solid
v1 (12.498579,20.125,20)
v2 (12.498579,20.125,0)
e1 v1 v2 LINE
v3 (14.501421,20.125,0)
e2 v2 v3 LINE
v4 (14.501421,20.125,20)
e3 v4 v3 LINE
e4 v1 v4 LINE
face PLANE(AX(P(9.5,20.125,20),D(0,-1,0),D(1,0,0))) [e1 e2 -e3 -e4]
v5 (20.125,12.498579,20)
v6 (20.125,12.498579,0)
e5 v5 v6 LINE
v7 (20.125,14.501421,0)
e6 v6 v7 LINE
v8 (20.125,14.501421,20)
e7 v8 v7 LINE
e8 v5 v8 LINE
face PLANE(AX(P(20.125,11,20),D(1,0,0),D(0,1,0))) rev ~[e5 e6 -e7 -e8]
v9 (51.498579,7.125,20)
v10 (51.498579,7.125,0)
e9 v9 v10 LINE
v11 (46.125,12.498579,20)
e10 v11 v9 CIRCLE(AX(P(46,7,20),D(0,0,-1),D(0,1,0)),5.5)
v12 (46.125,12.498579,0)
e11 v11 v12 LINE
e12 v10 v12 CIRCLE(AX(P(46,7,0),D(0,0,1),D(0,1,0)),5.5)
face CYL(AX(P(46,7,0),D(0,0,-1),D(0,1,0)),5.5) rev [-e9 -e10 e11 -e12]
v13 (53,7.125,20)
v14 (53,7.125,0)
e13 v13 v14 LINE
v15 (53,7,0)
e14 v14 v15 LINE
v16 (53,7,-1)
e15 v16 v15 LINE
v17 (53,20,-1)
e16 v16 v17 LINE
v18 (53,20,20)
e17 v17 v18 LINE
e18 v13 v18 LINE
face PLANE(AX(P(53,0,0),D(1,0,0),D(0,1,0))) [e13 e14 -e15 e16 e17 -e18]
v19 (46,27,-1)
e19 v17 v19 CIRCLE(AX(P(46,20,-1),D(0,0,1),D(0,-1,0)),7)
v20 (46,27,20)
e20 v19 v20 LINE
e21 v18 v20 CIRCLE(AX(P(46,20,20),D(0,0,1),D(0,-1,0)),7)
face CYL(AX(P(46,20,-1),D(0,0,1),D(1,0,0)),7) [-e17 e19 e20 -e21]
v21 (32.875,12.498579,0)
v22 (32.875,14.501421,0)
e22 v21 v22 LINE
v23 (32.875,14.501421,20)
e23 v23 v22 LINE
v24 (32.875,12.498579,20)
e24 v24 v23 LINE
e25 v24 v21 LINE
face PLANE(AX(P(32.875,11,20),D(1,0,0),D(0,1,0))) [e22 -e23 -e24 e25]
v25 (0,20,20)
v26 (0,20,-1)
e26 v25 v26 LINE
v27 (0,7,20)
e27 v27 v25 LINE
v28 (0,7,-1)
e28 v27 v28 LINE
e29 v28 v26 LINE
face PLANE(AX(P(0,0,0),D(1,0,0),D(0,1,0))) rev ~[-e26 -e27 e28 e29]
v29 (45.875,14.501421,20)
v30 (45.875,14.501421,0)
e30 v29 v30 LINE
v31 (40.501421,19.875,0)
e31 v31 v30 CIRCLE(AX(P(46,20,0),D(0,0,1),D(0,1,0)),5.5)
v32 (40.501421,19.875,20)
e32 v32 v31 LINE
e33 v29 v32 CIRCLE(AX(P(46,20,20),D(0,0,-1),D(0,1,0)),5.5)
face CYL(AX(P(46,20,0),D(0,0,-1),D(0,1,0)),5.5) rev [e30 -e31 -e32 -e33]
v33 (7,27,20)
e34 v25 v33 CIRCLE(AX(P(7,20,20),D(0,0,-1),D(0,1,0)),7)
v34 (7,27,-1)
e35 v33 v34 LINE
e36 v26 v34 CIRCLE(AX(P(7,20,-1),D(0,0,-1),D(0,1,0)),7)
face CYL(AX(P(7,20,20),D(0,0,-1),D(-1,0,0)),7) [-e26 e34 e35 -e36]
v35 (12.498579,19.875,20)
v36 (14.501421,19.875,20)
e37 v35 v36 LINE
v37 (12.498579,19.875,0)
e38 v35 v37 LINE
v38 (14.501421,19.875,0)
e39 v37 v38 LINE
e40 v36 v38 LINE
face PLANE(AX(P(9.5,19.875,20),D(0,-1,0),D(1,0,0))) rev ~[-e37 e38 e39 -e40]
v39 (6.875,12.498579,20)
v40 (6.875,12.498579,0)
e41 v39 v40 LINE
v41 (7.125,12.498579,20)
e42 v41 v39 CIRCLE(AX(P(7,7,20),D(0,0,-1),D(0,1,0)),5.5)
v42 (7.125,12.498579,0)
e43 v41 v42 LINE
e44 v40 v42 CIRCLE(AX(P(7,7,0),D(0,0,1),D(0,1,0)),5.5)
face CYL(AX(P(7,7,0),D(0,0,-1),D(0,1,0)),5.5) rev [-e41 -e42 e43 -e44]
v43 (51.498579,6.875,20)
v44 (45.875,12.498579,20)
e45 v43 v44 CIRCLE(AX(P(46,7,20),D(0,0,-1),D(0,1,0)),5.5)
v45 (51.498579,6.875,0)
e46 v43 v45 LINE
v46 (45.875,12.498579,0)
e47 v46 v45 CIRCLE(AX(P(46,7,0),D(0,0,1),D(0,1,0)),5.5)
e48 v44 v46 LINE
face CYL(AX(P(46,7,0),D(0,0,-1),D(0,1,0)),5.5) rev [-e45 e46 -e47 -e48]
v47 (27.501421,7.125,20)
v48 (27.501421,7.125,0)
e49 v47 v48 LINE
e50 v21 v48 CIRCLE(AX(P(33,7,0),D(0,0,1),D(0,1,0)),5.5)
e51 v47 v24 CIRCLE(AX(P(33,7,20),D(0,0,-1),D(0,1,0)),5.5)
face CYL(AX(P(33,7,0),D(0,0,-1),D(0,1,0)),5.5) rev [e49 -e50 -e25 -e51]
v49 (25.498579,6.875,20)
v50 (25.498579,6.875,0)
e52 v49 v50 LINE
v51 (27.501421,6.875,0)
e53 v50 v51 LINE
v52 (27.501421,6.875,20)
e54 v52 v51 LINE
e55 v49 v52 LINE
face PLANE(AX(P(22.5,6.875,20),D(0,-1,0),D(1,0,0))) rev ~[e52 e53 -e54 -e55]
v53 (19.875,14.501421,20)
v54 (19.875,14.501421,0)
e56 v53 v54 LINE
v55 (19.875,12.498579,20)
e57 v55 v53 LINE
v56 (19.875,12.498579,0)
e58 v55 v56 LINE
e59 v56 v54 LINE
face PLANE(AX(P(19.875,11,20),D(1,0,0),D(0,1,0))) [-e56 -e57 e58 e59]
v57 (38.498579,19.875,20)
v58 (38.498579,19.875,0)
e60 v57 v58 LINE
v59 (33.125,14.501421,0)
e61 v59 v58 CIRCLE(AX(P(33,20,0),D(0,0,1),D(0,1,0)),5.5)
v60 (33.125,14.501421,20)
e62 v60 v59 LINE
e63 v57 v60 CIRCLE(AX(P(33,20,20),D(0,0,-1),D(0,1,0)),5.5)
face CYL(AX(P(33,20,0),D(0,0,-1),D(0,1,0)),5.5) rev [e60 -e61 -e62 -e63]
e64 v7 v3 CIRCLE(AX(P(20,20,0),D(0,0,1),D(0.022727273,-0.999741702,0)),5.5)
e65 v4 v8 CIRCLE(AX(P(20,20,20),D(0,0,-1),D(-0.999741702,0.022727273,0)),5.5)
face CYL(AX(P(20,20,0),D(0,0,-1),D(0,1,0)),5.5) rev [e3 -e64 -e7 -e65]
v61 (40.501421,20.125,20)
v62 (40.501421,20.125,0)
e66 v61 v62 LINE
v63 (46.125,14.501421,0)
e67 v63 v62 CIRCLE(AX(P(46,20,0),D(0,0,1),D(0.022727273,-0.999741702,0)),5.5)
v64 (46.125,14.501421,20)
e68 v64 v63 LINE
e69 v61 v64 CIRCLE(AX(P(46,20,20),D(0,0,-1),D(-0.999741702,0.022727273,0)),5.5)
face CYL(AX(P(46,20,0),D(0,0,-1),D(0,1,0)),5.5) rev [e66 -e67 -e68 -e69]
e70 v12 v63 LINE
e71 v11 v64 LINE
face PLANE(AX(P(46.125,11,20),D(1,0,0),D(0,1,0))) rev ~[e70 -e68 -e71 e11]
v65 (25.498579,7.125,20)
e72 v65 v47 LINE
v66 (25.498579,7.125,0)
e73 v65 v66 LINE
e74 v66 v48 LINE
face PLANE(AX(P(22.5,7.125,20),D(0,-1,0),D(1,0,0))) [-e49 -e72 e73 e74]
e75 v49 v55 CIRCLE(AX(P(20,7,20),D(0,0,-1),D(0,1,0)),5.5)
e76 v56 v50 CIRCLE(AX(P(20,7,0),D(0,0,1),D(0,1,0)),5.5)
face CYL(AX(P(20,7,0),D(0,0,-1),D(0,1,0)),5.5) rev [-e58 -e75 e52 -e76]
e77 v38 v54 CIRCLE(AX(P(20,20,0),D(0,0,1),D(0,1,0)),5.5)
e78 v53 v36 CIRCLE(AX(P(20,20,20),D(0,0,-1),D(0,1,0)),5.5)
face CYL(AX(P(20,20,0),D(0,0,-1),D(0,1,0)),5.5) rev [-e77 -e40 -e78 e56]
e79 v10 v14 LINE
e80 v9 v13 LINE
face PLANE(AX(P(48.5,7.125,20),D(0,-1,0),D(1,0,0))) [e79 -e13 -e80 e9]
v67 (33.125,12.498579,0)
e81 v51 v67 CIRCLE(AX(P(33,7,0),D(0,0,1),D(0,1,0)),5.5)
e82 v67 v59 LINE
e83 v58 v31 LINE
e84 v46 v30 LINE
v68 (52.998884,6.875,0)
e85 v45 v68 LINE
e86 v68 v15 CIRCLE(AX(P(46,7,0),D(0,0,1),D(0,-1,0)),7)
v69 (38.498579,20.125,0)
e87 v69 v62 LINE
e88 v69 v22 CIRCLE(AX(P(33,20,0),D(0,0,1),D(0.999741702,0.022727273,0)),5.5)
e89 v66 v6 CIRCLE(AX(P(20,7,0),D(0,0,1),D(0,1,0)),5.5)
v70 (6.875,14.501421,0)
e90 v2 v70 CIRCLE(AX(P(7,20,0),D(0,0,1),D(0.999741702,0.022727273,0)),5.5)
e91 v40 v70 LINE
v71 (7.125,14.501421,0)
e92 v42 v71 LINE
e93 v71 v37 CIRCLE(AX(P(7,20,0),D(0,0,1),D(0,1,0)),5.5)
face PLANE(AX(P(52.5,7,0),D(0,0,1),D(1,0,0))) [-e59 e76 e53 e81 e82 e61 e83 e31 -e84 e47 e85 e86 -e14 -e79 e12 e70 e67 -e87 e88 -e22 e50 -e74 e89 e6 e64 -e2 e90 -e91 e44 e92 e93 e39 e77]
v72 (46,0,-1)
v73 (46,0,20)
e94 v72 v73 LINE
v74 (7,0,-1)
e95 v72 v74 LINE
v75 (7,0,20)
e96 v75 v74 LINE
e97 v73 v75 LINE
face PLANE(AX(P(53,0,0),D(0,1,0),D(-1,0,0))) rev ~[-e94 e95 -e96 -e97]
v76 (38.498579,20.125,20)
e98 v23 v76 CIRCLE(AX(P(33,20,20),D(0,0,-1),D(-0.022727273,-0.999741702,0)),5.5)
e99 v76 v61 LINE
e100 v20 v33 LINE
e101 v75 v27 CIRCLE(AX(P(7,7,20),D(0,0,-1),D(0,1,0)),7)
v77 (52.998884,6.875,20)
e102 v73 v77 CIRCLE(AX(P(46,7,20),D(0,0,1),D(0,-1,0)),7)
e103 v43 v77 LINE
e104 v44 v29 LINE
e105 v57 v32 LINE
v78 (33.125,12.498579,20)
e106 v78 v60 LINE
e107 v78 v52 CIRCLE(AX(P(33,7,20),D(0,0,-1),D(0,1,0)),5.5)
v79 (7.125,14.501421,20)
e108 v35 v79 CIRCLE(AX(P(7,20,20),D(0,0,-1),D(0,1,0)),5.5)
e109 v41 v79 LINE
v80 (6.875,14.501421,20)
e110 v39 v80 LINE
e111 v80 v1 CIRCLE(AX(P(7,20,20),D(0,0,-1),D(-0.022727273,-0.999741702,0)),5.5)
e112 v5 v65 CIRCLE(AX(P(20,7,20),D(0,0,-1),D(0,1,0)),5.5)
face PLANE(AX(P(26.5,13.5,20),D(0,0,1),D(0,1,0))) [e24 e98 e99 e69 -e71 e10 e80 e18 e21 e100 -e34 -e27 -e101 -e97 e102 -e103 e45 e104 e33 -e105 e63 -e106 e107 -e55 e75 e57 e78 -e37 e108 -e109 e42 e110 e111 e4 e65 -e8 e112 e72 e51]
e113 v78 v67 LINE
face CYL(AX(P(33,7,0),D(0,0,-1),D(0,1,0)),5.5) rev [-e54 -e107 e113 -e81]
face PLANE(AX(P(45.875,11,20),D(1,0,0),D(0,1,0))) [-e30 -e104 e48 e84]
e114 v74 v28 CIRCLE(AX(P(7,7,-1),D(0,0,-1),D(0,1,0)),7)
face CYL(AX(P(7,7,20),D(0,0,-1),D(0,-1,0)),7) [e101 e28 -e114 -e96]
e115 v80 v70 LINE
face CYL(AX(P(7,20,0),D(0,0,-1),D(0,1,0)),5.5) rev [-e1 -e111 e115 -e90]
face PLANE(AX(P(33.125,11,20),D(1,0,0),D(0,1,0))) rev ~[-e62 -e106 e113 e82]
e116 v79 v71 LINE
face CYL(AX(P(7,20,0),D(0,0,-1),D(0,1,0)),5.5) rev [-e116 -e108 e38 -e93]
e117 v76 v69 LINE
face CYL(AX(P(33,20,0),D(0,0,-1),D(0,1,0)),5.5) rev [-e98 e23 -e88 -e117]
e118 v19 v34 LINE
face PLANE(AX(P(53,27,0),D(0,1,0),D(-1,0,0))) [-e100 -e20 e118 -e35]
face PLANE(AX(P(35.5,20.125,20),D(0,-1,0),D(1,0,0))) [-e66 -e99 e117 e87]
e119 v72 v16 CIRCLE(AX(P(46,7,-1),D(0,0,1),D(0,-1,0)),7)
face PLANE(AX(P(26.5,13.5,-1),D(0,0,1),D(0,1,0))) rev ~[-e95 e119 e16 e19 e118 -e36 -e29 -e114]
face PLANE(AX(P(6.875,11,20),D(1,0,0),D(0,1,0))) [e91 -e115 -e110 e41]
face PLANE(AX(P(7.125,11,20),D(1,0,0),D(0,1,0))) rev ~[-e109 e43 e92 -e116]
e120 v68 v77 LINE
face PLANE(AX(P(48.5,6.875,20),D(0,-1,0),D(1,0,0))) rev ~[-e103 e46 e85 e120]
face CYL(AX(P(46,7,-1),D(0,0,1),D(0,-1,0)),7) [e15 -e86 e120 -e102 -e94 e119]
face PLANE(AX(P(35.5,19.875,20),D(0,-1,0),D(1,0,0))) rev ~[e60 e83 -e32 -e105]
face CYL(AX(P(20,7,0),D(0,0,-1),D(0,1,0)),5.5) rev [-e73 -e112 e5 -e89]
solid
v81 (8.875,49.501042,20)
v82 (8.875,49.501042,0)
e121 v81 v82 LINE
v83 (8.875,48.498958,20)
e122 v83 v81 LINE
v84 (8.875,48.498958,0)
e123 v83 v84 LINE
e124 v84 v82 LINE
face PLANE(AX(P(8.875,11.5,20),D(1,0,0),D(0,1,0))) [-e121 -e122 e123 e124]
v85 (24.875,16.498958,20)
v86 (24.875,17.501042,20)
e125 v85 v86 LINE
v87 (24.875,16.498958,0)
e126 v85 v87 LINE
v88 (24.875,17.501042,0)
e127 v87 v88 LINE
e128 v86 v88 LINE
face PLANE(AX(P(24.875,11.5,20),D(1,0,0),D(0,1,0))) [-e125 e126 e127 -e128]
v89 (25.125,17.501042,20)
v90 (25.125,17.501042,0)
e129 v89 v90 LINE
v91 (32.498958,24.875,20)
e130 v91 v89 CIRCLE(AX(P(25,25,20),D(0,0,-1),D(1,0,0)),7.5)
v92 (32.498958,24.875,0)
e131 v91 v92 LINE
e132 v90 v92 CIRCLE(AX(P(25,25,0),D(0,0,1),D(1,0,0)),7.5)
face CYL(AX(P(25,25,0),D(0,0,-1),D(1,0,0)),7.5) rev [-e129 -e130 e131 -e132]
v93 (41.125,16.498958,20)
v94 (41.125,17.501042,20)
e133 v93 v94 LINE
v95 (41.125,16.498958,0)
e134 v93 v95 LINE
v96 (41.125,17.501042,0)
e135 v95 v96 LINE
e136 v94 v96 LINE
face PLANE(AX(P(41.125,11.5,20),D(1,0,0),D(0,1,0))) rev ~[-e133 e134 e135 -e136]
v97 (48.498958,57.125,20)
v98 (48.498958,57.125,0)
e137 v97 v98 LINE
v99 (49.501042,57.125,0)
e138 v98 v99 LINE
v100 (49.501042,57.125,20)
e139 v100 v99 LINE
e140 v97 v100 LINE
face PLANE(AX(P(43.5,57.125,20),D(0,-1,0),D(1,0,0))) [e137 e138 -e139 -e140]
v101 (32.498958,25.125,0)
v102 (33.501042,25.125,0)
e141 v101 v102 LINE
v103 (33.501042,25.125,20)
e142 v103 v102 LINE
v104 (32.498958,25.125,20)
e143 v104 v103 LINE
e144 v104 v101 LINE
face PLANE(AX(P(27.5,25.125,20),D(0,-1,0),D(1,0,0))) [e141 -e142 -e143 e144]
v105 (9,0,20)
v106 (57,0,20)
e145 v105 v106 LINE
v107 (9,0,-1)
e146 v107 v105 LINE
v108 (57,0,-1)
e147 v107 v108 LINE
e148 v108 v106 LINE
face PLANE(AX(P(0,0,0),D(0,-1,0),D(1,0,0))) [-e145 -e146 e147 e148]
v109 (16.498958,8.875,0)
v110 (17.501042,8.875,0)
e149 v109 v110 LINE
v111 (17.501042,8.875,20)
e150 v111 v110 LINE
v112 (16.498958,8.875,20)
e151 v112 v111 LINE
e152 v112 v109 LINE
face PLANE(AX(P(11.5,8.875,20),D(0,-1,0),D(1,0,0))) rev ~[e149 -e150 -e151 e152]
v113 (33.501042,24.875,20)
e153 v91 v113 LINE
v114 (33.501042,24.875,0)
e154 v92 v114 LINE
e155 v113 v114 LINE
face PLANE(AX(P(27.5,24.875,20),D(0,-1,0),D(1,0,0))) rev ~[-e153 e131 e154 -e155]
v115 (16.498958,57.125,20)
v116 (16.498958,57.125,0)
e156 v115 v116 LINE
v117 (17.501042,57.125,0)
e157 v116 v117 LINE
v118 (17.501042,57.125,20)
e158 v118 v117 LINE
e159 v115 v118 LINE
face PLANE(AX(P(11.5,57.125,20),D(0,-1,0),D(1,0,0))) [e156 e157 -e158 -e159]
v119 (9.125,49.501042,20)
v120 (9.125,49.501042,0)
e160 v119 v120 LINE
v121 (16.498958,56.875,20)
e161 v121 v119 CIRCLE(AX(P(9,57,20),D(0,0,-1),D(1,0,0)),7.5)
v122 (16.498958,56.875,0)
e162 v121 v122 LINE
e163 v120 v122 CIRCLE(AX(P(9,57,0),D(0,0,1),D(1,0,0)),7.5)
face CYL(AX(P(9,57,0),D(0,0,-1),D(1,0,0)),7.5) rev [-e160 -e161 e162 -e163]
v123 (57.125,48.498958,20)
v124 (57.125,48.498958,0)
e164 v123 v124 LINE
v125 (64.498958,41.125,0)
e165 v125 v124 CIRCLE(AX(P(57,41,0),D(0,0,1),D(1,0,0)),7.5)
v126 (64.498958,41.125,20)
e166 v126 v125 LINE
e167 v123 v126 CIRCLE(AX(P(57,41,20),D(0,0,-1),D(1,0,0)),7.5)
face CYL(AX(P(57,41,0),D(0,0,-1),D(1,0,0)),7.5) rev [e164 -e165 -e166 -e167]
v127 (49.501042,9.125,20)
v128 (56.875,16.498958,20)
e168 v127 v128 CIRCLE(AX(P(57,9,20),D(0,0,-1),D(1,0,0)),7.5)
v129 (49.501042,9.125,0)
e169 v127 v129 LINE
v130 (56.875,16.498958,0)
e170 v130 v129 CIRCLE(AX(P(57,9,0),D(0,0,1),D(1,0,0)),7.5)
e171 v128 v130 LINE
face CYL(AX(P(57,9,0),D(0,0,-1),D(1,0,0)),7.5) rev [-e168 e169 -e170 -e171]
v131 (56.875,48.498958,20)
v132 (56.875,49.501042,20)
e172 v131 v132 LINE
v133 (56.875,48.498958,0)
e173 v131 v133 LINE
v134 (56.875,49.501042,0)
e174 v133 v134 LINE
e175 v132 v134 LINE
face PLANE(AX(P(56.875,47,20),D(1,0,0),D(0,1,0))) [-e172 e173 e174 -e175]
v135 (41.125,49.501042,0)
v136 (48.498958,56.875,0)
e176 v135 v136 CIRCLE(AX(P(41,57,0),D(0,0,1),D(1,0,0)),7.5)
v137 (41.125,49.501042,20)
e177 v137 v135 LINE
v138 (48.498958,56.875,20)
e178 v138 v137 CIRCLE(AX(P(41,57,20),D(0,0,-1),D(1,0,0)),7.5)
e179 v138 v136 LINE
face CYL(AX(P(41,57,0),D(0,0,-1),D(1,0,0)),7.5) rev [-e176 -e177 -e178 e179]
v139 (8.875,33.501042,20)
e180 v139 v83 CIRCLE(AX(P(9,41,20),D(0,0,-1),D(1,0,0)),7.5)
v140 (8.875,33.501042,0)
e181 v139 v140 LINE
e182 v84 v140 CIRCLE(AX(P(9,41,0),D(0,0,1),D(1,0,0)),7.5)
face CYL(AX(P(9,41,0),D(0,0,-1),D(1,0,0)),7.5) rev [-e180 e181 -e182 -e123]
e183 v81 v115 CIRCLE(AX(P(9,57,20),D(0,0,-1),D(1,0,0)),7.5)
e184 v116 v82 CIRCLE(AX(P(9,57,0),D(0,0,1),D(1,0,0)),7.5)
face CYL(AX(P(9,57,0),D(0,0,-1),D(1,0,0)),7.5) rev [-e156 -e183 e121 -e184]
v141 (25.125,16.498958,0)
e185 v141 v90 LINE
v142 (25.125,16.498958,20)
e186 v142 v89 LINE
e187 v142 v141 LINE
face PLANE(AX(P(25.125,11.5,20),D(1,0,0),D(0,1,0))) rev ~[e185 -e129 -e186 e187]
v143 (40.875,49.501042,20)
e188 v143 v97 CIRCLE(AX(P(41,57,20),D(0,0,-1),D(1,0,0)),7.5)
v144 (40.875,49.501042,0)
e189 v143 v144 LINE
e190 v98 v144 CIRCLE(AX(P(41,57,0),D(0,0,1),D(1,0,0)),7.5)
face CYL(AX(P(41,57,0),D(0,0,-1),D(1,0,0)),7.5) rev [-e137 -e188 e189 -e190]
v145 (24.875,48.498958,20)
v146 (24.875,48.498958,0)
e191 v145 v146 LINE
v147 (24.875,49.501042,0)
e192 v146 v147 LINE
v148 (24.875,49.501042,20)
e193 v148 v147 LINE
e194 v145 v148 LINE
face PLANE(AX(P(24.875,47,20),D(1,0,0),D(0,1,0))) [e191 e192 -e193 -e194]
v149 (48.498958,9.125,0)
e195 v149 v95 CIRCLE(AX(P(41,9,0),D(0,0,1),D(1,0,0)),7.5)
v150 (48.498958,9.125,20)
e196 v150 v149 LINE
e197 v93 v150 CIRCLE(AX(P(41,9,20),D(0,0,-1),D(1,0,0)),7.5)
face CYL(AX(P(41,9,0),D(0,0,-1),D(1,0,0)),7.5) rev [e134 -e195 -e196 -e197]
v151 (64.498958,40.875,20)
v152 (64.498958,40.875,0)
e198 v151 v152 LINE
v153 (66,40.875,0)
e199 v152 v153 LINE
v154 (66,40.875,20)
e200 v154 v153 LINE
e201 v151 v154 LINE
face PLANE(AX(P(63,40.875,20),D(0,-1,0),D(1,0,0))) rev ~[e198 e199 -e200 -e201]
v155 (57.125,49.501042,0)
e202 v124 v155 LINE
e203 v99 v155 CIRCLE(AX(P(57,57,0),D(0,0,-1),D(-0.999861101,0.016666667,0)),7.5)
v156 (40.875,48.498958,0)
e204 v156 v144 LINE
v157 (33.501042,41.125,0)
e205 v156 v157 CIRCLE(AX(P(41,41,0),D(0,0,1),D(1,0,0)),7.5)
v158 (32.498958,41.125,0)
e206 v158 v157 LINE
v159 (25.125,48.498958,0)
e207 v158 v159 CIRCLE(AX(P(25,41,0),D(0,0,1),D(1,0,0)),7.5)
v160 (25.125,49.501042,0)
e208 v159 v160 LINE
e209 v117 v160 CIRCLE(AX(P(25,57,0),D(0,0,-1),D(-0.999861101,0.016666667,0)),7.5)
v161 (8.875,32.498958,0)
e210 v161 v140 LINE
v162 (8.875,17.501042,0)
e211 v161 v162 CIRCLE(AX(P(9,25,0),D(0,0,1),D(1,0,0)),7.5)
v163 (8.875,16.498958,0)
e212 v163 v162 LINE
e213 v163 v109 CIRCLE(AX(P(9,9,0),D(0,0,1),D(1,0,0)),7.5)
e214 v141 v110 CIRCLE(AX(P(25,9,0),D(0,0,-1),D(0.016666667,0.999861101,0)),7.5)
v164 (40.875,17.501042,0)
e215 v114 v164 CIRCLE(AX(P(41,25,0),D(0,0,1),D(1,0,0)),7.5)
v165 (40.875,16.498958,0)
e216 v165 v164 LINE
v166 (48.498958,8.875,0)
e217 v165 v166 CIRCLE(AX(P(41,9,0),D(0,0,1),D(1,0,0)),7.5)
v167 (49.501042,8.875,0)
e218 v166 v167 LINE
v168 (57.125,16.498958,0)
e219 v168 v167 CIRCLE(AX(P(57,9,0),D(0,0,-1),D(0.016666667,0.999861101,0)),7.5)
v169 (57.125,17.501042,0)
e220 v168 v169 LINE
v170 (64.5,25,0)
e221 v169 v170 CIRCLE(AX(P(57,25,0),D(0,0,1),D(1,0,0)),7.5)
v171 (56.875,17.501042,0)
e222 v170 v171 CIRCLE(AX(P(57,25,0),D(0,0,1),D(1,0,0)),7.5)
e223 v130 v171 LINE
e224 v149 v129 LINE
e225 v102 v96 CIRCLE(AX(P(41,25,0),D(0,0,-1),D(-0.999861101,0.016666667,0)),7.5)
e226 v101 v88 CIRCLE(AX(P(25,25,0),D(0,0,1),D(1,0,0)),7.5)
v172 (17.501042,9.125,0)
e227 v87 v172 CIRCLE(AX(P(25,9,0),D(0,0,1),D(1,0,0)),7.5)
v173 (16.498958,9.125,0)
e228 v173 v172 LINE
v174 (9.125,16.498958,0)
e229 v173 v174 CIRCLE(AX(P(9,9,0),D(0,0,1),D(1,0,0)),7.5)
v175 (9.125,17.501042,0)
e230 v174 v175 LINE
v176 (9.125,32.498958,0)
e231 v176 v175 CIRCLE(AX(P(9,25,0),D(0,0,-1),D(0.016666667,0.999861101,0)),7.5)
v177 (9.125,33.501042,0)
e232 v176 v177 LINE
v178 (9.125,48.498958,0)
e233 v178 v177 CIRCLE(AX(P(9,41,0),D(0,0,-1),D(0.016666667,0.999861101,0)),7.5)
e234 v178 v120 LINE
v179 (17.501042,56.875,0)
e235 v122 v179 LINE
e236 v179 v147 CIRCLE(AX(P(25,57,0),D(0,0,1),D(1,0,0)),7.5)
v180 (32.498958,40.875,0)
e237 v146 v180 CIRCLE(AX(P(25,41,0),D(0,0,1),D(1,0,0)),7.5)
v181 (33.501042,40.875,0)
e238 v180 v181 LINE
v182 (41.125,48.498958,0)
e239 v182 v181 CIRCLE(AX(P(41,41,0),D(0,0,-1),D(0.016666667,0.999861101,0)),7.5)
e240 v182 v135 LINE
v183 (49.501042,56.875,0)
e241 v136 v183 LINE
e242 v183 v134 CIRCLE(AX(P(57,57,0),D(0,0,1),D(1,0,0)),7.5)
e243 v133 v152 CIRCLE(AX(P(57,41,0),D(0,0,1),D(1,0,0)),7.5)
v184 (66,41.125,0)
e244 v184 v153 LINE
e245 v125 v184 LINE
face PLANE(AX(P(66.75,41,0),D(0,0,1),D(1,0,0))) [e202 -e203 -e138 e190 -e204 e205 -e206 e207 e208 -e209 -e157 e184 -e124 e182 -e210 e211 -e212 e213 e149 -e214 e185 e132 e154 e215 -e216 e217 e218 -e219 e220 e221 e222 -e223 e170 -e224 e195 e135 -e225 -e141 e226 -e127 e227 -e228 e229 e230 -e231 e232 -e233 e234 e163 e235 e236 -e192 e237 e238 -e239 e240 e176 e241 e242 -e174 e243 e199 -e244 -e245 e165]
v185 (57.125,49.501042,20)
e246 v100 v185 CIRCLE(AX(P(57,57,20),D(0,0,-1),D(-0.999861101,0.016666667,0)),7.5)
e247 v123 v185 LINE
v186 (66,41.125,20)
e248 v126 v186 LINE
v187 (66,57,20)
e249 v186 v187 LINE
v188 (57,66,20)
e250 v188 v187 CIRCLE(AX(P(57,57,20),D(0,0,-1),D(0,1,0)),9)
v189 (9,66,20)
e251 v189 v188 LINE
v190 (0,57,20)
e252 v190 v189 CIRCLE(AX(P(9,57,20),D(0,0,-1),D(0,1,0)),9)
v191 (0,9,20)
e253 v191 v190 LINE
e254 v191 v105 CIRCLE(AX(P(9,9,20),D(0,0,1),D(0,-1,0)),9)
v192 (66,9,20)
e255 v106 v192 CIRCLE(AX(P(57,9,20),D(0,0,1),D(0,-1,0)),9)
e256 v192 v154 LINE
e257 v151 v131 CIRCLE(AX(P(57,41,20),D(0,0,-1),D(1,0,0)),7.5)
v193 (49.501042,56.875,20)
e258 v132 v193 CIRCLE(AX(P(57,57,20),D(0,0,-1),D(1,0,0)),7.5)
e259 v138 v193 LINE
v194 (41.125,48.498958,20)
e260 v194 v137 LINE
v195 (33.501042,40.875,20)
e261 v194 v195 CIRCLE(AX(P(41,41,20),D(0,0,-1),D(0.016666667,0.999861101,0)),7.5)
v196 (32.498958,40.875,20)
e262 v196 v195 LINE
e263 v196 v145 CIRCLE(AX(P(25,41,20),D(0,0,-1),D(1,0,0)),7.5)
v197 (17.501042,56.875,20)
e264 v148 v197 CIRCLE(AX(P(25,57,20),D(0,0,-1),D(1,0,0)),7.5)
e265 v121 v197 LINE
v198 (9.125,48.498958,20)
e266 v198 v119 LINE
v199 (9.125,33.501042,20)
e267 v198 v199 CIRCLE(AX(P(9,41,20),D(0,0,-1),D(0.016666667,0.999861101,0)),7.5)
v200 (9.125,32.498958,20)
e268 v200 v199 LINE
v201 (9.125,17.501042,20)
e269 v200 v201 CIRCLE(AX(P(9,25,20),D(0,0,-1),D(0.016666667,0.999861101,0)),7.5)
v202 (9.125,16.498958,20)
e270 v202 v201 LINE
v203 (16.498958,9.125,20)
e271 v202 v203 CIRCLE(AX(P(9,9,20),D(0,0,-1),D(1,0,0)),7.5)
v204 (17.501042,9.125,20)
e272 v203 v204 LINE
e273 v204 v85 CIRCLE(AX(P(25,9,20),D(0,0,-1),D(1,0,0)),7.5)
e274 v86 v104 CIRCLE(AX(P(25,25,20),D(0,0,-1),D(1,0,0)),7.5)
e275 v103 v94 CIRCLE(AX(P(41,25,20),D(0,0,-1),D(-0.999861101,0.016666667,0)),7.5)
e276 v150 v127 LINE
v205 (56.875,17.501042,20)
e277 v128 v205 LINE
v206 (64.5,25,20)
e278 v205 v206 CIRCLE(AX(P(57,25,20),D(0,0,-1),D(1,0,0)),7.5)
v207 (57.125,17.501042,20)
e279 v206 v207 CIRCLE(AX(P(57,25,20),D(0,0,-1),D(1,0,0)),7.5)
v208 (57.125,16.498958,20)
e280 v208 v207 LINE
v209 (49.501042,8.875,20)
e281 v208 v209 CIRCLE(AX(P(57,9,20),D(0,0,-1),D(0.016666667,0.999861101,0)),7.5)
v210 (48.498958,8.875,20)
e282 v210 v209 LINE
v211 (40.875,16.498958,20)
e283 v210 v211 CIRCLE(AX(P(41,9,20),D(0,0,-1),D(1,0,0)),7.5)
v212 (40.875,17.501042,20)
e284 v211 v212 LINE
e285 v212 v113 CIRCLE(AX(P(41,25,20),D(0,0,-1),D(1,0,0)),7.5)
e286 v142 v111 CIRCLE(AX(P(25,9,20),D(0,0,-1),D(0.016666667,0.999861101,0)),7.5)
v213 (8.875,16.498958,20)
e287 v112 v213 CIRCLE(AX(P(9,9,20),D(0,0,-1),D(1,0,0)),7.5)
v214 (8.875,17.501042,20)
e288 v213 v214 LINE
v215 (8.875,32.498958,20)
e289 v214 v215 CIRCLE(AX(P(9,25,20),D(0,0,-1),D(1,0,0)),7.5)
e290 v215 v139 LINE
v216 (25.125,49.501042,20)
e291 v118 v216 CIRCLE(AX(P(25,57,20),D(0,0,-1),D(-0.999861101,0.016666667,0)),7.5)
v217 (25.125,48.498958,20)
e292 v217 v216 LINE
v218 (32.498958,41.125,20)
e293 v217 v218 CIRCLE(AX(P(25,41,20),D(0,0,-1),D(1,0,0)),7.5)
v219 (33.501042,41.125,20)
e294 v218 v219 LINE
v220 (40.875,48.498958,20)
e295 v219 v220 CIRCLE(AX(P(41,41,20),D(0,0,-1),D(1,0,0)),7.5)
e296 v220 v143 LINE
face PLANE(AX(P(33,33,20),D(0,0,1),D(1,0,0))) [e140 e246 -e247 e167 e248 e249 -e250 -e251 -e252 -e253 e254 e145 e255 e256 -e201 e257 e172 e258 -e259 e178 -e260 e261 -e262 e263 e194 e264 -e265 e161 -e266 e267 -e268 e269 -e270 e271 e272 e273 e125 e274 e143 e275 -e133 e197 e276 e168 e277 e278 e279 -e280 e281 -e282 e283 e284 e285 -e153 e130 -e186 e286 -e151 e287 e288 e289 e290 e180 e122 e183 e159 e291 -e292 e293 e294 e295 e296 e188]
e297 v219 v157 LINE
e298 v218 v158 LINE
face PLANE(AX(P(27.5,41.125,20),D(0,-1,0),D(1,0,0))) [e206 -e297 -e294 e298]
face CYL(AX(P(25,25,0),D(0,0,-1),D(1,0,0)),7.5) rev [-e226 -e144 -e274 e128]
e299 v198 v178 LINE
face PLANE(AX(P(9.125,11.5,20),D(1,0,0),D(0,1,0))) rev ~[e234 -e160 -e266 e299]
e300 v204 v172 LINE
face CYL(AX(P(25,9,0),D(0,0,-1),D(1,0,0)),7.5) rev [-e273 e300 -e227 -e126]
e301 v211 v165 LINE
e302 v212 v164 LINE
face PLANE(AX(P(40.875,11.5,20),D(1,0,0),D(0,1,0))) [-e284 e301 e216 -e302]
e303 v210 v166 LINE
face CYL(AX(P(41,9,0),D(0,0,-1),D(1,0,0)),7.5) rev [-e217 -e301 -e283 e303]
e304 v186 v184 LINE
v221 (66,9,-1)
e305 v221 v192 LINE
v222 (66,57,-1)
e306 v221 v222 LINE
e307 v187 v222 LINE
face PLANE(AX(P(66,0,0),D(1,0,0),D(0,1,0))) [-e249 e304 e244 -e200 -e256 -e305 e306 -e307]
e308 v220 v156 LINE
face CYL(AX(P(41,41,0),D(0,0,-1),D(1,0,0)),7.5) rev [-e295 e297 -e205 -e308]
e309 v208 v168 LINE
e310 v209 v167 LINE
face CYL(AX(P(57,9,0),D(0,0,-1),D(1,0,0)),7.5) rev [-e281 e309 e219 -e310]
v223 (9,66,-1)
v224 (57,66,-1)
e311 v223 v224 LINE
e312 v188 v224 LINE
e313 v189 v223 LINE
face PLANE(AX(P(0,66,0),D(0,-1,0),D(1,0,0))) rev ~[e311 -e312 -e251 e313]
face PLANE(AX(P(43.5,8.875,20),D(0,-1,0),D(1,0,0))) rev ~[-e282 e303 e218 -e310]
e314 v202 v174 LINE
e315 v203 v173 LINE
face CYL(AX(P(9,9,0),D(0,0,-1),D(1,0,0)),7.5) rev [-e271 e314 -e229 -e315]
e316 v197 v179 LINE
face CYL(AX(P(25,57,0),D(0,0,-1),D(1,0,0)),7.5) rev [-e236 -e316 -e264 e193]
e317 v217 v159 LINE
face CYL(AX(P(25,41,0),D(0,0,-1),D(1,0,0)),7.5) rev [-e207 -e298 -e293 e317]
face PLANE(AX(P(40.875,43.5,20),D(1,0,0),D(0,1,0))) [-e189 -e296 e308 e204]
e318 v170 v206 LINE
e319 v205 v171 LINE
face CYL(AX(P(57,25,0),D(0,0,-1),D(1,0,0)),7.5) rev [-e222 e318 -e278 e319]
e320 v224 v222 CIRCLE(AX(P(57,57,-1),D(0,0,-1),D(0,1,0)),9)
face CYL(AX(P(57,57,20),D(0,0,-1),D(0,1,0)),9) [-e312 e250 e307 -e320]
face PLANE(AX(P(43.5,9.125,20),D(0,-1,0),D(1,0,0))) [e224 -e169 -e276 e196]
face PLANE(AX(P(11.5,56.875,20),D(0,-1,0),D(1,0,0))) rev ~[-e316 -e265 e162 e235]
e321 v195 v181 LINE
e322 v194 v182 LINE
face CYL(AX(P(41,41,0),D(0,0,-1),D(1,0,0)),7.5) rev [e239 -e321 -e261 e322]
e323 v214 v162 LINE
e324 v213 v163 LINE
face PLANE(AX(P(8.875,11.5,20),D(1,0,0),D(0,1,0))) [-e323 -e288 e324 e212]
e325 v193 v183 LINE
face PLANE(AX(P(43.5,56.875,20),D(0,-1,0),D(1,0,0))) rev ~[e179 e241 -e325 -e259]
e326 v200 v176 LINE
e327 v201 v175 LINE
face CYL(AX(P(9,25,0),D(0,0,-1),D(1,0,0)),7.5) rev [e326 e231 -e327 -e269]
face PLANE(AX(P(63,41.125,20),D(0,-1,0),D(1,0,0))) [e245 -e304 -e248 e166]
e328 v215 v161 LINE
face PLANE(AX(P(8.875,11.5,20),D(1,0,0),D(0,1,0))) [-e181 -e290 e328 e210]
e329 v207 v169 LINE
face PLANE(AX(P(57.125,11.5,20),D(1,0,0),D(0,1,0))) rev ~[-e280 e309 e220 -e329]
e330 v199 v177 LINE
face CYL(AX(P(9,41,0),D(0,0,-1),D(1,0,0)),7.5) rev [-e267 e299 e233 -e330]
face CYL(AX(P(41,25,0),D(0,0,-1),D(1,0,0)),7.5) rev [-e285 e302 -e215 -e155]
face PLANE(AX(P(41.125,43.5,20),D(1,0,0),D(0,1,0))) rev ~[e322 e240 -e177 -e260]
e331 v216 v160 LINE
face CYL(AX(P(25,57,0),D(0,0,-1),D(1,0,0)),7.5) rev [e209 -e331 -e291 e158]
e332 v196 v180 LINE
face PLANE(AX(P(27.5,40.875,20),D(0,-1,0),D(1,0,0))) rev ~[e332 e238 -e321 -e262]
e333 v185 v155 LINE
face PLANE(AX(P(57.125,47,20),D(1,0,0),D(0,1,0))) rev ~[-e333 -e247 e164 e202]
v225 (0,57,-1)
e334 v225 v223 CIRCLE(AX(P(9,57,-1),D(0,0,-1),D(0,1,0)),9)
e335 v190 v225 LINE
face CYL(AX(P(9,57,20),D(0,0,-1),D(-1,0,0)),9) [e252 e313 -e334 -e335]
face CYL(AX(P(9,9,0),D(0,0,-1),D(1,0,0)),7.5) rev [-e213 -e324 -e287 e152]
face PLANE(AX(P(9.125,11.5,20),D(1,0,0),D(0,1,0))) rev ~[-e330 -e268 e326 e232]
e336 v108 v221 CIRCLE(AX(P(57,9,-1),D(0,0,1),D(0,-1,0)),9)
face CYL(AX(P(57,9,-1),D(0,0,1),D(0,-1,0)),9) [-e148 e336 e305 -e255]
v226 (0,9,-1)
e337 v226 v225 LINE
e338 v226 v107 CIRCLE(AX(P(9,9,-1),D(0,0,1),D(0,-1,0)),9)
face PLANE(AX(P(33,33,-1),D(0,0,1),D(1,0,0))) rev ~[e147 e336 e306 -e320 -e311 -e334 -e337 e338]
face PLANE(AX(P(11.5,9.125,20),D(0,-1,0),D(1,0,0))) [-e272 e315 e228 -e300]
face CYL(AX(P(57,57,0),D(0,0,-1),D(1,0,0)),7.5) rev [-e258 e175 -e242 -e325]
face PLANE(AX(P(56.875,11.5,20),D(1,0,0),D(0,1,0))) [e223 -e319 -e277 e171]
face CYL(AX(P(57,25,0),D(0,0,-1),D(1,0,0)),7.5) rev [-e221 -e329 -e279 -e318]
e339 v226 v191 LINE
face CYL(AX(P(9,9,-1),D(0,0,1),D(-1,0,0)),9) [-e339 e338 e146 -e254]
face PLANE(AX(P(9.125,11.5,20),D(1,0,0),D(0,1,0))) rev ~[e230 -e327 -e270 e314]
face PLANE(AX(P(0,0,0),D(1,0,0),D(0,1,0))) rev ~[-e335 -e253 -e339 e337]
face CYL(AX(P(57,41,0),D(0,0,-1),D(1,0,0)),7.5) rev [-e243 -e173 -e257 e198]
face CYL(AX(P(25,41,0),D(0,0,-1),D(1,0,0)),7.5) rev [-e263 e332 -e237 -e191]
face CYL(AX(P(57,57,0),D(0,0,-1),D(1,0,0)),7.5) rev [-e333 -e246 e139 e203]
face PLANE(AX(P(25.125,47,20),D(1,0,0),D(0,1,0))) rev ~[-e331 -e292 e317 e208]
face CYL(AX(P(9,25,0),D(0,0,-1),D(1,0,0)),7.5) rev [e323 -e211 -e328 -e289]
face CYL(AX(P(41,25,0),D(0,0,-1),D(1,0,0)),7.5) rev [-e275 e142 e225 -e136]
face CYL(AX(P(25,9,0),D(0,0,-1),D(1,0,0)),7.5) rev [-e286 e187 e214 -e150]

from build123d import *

# Parameters (mm, degrees)
BINDER_W                           = 27
BINDER_H                           = 53
PAD_DEPTH                          = 20
PAD_DEPTH_BACK                     = 1
BINDER001_R                        = 5.5
POCKET_DEPTH                       = 20.001
FILLET_R                           = 7
SKETCH001_W                        = 0.25
SKETCH001_H                        = 5
POCKET001_DEPTH                    = 20
LINEARPATTERN_COUNT                = 4
LINEARPATTERN_PITCH                = 13
SKETCH002_W                        = 8
SKETCH002_H                        = 0.25
POCKET002_DEPTH                    = 20
SKETCH003_W                        = 66
SKETCH003_H                        = 66
PAD001_DEPTH                       = 20
PAD001_DEPTH_BACK                  = 1
SKETCH004_R                        = 7.5
POCKET003_DEPTH                    = 211.343625
SKETCH004_LINEARPATTERN001_2_R     = 7.5
POCKET003_LINEARPATTERN001_2_DEPTH = 211.343625
SKETCH004_LINEARPATTERN001_3_R     = 7.5
POCKET003_LINEARPATTERN001_3_DEPTH = 211.343625
SKETCH004_LINEARPATTERN001_4_R     = 7.5
POCKET003_LINEARPATTERN001_4_DEPTH = 211.343625
LINEARPATTERN002_COUNT             = 4
LINEARPATTERN002_PITCH             = 16
FILLET001_R                        = 9
SKETCH005_W                        = 7.5
SKETCH005_H                        = 0.25
SKETCH005_W_2                      = 0.25
SKETCH005_H_2                      = 7.5
SKETCH005_H_3                      = 43
POCKET004_DEPTH                    = 20


with BuildPart() as f_8_x_aaa:
    # Binder → Pad (new body, two sides)
    with BuildSketch(Plane(origin=(26.5, 13.5, 0), x_dir=(0, 1, 0), z_dir=(0, 0, 1))) as pad_sk:
        Rectangle(BINDER_W, BINDER_H)
    extrude(amount=PAD_DEPTH)
    extrude(pad_sk.sketch, amount=-PAD_DEPTH_BACK)

    # Binder001 → Pocket (cut, through all)
    with BuildSketch(Plane(origin=(20, 20, 0), x_dir=(0, 1, 0), z_dir=(0, 0, 1))):
        Circle(BINDER001_R)
        with Locations((-13, -26)):
            Circle(BINDER001_R)
        with Locations((-13, -13)):
            Circle(BINDER001_R)
        with Locations((-13, 0)):
            Circle(BINDER001_R)
        with Locations((-13, 13)):
            Circle(BINDER001_R)
        with Locations((0, 13)):
            Circle(BINDER001_R)
        with Locations((0, -26)):
            Circle(BINDER001_R)
        with Locations((0, -13)):
            Circle(BINDER001_R)
    extrude(amount=POCKET_DEPTH, mode=Mode.SUBTRACT)

    # Fillet
    fillet_edges = [f_8_x_aaa.edges().sort_by_distance(p)[0] for p in [
        (0, 0, 9.5),
        (0, 27, 9.5),
        (53, 0, 9.5),
        (53, 27, 9.5),
    ]]
    fillet(fillet_edges, radius=FILLET_R)

    # Sketch001 (on Face5 of Fillet) → Pocket001 (cut)
    with BuildSketch(Plane.XY.offset(20)):
        with Locations((7, 13.5)):
            Rectangle(SKETCH001_W, SKETCH001_H)
    pocket001 = extrude(amount=-POCKET001_DEPTH, mode=Mode.SUBTRACT)

    # LinearPattern: Pocket001 ×4
    with Locations(*[(i * LINEARPATTERN_PITCH, 0, 0) for i in range(1, LINEARPATTERN_COUNT)]):
        add(pocket001, mode=Mode.SUBTRACT)

    # Sketch002 (on Face5 of LinearPattern) → Pocket002 (cut)
    with BuildSketch(Plane.XY.offset(20)):
        with Locations((39.5, 20)):
            Rectangle(SKETCH002_W, SKETCH002_H)
        with Locations((26.5, 7)):
            Rectangle(SKETCH002_W, SKETCH002_H)
        with Locations((52.5, 7)):
            Rectangle(SKETCH002_W, SKETCH002_H)
        with Locations((13.5, 20)):
            Rectangle(SKETCH002_W, SKETCH002_H)
    extrude(amount=-POCKET002_DEPTH, mode=Mode.SUBTRACT)


with BuildPart() as f_16_x_aa:
    # Sketch003 → Pad001 (new body, two sides)
    with BuildSketch(Plane.XY) as pad001_sk:
        with Locations((33, 33)):
            Rectangle(SKETCH003_W, SKETCH003_H)
    extrude(amount=PAD001_DEPTH)
    extrude(pad001_sk.sketch, amount=-PAD001_DEPTH_BACK)

    # Sketch004 → Pocket003 (cut, through all)
    with BuildSketch(Plane.XY):
        with Locations((9, 9)):
            Circle(SKETCH004_R)
    pocket003 = extrude(amount=POCKET003_DEPTH, mode=Mode.SUBTRACT)

    # Sketch004 LinearPattern001 2 → Pocket003 LinearPattern001 2 (cut, through all)
    with BuildSketch(Plane(origin=(16, 0, 0), x_dir=(1, 0, 0), z_dir=(0, 0, 1))):
        with Locations((9, 9)):
            Circle(SKETCH004_LINEARPATTERN001_2_R)
    pocket003_linearpattern001_2 = extrude(amount=POCKET003_LINEARPATTERN001_2_DEPTH, mode=Mode.SUBTRACT)

    # Sketch004 LinearPattern001 3 → Pocket003 LinearPattern001 3 (cut, through all)
    with BuildSketch(Plane(origin=(32, 0, 0), x_dir=(1, 0, 0), z_dir=(0, 0, 1))):
        with Locations((9, 9)):
            Circle(SKETCH004_LINEARPATTERN001_3_R)
    pocket003_linearpattern001_3 = extrude(amount=POCKET003_LINEARPATTERN001_3_DEPTH, mode=Mode.SUBTRACT)

    # Sketch004 LinearPattern001 4 → Pocket003 LinearPattern001 4 (cut, through all)
    with BuildSketch(Plane(origin=(48, 0, 0), x_dir=(1, 0, 0), z_dir=(0, 0, 1))):
        with Locations((9, 9)):
            Circle(SKETCH004_LINEARPATTERN001_4_R)
    pocket003_linearpattern001_4 = extrude(amount=POCKET003_LINEARPATTERN001_4_DEPTH, mode=Mode.SUBTRACT)

    # LinearPattern002: Pocket003, Pocket003 LinearPattern001 2, Pocket003 LinearPattern001 3, Pocket003 LinearPattern001 4 ×4
    with Locations(*[(0, i * LINEARPATTERN002_PITCH, 0) for i in range(1, LINEARPATTERN002_COUNT)]):
        add(pocket003, mode=Mode.SUBTRACT)
        add(pocket003_linearpattern001_2, mode=Mode.SUBTRACT)
        add(pocket003_linearpattern001_3, mode=Mode.SUBTRACT)
        add(pocket003_linearpattern001_4, mode=Mode.SUBTRACT)

    # Fillet001
    fillet001_edges = [f_16_x_aa.edges().sort_by_distance(p)[0] for p in [
        (0, 0, 9.5),
        (66, 0, 9.5),
        (66, 66, 9.5),
        (0, 66, 9.5),
    ]]
    fillet(fillet001_edges, radius=FILLET001_R)

    # Sketch005 (on Face5 of Fillet001) → Pocket004 (cut)
    with BuildSketch(Plane.XY.offset(20)):
        with Locations((66.75, 41)):
            Rectangle(SKETCH005_W, SKETCH005_H)
        with Locations((47.25, 57)):
            Rectangle(SKETCH005_W, SKETCH005_H)
        with Locations((41, 47.25)):
            Rectangle(SKETCH005_W_2, SKETCH005_H_2)
        with Locations((31.25, 41)):
            Rectangle(SKETCH005_W, SKETCH005_H)
        with Locations((25, 50.75)):
            Rectangle(SKETCH005_W_2, SKETCH005_H_2)
        with Locations((15.25, 57)):
            Rectangle(SKETCH005_W, SKETCH005_H)
        with Locations((9, 33)):
            Rectangle(SKETCH005_W_2, SKETCH005_H_3)
        with Locations((15.25, 9)):
            Rectangle(SKETCH005_W, SKETCH005_H)
        with Locations((25, 15.25)):
            Rectangle(SKETCH005_W_2, SKETCH005_H_2)
        with Locations((31.25, 25)):
            Rectangle(SKETCH005_W, SKETCH005_H)
        with Locations((41, 15.25)):
            Rectangle(SKETCH005_W_2, SKETCH005_H_2)
        with Locations((47.25, 9)):
            Rectangle(SKETCH005_W, SKETCH005_H)
        with Locations((57, 15.25)):
            Rectangle(SKETCH005_W_2, SKETCH005_H_2)
        with Locations((57, 50.75)):
            Rectangle(SKETCH005_W_2, SKETCH005_H_2)
    extrude(amount=-POCKET004_DEPTH, mode=Mode.SUBTRACT)


solid = Compound([f_8_x_aaa.part, f_16_x_aa.part])
